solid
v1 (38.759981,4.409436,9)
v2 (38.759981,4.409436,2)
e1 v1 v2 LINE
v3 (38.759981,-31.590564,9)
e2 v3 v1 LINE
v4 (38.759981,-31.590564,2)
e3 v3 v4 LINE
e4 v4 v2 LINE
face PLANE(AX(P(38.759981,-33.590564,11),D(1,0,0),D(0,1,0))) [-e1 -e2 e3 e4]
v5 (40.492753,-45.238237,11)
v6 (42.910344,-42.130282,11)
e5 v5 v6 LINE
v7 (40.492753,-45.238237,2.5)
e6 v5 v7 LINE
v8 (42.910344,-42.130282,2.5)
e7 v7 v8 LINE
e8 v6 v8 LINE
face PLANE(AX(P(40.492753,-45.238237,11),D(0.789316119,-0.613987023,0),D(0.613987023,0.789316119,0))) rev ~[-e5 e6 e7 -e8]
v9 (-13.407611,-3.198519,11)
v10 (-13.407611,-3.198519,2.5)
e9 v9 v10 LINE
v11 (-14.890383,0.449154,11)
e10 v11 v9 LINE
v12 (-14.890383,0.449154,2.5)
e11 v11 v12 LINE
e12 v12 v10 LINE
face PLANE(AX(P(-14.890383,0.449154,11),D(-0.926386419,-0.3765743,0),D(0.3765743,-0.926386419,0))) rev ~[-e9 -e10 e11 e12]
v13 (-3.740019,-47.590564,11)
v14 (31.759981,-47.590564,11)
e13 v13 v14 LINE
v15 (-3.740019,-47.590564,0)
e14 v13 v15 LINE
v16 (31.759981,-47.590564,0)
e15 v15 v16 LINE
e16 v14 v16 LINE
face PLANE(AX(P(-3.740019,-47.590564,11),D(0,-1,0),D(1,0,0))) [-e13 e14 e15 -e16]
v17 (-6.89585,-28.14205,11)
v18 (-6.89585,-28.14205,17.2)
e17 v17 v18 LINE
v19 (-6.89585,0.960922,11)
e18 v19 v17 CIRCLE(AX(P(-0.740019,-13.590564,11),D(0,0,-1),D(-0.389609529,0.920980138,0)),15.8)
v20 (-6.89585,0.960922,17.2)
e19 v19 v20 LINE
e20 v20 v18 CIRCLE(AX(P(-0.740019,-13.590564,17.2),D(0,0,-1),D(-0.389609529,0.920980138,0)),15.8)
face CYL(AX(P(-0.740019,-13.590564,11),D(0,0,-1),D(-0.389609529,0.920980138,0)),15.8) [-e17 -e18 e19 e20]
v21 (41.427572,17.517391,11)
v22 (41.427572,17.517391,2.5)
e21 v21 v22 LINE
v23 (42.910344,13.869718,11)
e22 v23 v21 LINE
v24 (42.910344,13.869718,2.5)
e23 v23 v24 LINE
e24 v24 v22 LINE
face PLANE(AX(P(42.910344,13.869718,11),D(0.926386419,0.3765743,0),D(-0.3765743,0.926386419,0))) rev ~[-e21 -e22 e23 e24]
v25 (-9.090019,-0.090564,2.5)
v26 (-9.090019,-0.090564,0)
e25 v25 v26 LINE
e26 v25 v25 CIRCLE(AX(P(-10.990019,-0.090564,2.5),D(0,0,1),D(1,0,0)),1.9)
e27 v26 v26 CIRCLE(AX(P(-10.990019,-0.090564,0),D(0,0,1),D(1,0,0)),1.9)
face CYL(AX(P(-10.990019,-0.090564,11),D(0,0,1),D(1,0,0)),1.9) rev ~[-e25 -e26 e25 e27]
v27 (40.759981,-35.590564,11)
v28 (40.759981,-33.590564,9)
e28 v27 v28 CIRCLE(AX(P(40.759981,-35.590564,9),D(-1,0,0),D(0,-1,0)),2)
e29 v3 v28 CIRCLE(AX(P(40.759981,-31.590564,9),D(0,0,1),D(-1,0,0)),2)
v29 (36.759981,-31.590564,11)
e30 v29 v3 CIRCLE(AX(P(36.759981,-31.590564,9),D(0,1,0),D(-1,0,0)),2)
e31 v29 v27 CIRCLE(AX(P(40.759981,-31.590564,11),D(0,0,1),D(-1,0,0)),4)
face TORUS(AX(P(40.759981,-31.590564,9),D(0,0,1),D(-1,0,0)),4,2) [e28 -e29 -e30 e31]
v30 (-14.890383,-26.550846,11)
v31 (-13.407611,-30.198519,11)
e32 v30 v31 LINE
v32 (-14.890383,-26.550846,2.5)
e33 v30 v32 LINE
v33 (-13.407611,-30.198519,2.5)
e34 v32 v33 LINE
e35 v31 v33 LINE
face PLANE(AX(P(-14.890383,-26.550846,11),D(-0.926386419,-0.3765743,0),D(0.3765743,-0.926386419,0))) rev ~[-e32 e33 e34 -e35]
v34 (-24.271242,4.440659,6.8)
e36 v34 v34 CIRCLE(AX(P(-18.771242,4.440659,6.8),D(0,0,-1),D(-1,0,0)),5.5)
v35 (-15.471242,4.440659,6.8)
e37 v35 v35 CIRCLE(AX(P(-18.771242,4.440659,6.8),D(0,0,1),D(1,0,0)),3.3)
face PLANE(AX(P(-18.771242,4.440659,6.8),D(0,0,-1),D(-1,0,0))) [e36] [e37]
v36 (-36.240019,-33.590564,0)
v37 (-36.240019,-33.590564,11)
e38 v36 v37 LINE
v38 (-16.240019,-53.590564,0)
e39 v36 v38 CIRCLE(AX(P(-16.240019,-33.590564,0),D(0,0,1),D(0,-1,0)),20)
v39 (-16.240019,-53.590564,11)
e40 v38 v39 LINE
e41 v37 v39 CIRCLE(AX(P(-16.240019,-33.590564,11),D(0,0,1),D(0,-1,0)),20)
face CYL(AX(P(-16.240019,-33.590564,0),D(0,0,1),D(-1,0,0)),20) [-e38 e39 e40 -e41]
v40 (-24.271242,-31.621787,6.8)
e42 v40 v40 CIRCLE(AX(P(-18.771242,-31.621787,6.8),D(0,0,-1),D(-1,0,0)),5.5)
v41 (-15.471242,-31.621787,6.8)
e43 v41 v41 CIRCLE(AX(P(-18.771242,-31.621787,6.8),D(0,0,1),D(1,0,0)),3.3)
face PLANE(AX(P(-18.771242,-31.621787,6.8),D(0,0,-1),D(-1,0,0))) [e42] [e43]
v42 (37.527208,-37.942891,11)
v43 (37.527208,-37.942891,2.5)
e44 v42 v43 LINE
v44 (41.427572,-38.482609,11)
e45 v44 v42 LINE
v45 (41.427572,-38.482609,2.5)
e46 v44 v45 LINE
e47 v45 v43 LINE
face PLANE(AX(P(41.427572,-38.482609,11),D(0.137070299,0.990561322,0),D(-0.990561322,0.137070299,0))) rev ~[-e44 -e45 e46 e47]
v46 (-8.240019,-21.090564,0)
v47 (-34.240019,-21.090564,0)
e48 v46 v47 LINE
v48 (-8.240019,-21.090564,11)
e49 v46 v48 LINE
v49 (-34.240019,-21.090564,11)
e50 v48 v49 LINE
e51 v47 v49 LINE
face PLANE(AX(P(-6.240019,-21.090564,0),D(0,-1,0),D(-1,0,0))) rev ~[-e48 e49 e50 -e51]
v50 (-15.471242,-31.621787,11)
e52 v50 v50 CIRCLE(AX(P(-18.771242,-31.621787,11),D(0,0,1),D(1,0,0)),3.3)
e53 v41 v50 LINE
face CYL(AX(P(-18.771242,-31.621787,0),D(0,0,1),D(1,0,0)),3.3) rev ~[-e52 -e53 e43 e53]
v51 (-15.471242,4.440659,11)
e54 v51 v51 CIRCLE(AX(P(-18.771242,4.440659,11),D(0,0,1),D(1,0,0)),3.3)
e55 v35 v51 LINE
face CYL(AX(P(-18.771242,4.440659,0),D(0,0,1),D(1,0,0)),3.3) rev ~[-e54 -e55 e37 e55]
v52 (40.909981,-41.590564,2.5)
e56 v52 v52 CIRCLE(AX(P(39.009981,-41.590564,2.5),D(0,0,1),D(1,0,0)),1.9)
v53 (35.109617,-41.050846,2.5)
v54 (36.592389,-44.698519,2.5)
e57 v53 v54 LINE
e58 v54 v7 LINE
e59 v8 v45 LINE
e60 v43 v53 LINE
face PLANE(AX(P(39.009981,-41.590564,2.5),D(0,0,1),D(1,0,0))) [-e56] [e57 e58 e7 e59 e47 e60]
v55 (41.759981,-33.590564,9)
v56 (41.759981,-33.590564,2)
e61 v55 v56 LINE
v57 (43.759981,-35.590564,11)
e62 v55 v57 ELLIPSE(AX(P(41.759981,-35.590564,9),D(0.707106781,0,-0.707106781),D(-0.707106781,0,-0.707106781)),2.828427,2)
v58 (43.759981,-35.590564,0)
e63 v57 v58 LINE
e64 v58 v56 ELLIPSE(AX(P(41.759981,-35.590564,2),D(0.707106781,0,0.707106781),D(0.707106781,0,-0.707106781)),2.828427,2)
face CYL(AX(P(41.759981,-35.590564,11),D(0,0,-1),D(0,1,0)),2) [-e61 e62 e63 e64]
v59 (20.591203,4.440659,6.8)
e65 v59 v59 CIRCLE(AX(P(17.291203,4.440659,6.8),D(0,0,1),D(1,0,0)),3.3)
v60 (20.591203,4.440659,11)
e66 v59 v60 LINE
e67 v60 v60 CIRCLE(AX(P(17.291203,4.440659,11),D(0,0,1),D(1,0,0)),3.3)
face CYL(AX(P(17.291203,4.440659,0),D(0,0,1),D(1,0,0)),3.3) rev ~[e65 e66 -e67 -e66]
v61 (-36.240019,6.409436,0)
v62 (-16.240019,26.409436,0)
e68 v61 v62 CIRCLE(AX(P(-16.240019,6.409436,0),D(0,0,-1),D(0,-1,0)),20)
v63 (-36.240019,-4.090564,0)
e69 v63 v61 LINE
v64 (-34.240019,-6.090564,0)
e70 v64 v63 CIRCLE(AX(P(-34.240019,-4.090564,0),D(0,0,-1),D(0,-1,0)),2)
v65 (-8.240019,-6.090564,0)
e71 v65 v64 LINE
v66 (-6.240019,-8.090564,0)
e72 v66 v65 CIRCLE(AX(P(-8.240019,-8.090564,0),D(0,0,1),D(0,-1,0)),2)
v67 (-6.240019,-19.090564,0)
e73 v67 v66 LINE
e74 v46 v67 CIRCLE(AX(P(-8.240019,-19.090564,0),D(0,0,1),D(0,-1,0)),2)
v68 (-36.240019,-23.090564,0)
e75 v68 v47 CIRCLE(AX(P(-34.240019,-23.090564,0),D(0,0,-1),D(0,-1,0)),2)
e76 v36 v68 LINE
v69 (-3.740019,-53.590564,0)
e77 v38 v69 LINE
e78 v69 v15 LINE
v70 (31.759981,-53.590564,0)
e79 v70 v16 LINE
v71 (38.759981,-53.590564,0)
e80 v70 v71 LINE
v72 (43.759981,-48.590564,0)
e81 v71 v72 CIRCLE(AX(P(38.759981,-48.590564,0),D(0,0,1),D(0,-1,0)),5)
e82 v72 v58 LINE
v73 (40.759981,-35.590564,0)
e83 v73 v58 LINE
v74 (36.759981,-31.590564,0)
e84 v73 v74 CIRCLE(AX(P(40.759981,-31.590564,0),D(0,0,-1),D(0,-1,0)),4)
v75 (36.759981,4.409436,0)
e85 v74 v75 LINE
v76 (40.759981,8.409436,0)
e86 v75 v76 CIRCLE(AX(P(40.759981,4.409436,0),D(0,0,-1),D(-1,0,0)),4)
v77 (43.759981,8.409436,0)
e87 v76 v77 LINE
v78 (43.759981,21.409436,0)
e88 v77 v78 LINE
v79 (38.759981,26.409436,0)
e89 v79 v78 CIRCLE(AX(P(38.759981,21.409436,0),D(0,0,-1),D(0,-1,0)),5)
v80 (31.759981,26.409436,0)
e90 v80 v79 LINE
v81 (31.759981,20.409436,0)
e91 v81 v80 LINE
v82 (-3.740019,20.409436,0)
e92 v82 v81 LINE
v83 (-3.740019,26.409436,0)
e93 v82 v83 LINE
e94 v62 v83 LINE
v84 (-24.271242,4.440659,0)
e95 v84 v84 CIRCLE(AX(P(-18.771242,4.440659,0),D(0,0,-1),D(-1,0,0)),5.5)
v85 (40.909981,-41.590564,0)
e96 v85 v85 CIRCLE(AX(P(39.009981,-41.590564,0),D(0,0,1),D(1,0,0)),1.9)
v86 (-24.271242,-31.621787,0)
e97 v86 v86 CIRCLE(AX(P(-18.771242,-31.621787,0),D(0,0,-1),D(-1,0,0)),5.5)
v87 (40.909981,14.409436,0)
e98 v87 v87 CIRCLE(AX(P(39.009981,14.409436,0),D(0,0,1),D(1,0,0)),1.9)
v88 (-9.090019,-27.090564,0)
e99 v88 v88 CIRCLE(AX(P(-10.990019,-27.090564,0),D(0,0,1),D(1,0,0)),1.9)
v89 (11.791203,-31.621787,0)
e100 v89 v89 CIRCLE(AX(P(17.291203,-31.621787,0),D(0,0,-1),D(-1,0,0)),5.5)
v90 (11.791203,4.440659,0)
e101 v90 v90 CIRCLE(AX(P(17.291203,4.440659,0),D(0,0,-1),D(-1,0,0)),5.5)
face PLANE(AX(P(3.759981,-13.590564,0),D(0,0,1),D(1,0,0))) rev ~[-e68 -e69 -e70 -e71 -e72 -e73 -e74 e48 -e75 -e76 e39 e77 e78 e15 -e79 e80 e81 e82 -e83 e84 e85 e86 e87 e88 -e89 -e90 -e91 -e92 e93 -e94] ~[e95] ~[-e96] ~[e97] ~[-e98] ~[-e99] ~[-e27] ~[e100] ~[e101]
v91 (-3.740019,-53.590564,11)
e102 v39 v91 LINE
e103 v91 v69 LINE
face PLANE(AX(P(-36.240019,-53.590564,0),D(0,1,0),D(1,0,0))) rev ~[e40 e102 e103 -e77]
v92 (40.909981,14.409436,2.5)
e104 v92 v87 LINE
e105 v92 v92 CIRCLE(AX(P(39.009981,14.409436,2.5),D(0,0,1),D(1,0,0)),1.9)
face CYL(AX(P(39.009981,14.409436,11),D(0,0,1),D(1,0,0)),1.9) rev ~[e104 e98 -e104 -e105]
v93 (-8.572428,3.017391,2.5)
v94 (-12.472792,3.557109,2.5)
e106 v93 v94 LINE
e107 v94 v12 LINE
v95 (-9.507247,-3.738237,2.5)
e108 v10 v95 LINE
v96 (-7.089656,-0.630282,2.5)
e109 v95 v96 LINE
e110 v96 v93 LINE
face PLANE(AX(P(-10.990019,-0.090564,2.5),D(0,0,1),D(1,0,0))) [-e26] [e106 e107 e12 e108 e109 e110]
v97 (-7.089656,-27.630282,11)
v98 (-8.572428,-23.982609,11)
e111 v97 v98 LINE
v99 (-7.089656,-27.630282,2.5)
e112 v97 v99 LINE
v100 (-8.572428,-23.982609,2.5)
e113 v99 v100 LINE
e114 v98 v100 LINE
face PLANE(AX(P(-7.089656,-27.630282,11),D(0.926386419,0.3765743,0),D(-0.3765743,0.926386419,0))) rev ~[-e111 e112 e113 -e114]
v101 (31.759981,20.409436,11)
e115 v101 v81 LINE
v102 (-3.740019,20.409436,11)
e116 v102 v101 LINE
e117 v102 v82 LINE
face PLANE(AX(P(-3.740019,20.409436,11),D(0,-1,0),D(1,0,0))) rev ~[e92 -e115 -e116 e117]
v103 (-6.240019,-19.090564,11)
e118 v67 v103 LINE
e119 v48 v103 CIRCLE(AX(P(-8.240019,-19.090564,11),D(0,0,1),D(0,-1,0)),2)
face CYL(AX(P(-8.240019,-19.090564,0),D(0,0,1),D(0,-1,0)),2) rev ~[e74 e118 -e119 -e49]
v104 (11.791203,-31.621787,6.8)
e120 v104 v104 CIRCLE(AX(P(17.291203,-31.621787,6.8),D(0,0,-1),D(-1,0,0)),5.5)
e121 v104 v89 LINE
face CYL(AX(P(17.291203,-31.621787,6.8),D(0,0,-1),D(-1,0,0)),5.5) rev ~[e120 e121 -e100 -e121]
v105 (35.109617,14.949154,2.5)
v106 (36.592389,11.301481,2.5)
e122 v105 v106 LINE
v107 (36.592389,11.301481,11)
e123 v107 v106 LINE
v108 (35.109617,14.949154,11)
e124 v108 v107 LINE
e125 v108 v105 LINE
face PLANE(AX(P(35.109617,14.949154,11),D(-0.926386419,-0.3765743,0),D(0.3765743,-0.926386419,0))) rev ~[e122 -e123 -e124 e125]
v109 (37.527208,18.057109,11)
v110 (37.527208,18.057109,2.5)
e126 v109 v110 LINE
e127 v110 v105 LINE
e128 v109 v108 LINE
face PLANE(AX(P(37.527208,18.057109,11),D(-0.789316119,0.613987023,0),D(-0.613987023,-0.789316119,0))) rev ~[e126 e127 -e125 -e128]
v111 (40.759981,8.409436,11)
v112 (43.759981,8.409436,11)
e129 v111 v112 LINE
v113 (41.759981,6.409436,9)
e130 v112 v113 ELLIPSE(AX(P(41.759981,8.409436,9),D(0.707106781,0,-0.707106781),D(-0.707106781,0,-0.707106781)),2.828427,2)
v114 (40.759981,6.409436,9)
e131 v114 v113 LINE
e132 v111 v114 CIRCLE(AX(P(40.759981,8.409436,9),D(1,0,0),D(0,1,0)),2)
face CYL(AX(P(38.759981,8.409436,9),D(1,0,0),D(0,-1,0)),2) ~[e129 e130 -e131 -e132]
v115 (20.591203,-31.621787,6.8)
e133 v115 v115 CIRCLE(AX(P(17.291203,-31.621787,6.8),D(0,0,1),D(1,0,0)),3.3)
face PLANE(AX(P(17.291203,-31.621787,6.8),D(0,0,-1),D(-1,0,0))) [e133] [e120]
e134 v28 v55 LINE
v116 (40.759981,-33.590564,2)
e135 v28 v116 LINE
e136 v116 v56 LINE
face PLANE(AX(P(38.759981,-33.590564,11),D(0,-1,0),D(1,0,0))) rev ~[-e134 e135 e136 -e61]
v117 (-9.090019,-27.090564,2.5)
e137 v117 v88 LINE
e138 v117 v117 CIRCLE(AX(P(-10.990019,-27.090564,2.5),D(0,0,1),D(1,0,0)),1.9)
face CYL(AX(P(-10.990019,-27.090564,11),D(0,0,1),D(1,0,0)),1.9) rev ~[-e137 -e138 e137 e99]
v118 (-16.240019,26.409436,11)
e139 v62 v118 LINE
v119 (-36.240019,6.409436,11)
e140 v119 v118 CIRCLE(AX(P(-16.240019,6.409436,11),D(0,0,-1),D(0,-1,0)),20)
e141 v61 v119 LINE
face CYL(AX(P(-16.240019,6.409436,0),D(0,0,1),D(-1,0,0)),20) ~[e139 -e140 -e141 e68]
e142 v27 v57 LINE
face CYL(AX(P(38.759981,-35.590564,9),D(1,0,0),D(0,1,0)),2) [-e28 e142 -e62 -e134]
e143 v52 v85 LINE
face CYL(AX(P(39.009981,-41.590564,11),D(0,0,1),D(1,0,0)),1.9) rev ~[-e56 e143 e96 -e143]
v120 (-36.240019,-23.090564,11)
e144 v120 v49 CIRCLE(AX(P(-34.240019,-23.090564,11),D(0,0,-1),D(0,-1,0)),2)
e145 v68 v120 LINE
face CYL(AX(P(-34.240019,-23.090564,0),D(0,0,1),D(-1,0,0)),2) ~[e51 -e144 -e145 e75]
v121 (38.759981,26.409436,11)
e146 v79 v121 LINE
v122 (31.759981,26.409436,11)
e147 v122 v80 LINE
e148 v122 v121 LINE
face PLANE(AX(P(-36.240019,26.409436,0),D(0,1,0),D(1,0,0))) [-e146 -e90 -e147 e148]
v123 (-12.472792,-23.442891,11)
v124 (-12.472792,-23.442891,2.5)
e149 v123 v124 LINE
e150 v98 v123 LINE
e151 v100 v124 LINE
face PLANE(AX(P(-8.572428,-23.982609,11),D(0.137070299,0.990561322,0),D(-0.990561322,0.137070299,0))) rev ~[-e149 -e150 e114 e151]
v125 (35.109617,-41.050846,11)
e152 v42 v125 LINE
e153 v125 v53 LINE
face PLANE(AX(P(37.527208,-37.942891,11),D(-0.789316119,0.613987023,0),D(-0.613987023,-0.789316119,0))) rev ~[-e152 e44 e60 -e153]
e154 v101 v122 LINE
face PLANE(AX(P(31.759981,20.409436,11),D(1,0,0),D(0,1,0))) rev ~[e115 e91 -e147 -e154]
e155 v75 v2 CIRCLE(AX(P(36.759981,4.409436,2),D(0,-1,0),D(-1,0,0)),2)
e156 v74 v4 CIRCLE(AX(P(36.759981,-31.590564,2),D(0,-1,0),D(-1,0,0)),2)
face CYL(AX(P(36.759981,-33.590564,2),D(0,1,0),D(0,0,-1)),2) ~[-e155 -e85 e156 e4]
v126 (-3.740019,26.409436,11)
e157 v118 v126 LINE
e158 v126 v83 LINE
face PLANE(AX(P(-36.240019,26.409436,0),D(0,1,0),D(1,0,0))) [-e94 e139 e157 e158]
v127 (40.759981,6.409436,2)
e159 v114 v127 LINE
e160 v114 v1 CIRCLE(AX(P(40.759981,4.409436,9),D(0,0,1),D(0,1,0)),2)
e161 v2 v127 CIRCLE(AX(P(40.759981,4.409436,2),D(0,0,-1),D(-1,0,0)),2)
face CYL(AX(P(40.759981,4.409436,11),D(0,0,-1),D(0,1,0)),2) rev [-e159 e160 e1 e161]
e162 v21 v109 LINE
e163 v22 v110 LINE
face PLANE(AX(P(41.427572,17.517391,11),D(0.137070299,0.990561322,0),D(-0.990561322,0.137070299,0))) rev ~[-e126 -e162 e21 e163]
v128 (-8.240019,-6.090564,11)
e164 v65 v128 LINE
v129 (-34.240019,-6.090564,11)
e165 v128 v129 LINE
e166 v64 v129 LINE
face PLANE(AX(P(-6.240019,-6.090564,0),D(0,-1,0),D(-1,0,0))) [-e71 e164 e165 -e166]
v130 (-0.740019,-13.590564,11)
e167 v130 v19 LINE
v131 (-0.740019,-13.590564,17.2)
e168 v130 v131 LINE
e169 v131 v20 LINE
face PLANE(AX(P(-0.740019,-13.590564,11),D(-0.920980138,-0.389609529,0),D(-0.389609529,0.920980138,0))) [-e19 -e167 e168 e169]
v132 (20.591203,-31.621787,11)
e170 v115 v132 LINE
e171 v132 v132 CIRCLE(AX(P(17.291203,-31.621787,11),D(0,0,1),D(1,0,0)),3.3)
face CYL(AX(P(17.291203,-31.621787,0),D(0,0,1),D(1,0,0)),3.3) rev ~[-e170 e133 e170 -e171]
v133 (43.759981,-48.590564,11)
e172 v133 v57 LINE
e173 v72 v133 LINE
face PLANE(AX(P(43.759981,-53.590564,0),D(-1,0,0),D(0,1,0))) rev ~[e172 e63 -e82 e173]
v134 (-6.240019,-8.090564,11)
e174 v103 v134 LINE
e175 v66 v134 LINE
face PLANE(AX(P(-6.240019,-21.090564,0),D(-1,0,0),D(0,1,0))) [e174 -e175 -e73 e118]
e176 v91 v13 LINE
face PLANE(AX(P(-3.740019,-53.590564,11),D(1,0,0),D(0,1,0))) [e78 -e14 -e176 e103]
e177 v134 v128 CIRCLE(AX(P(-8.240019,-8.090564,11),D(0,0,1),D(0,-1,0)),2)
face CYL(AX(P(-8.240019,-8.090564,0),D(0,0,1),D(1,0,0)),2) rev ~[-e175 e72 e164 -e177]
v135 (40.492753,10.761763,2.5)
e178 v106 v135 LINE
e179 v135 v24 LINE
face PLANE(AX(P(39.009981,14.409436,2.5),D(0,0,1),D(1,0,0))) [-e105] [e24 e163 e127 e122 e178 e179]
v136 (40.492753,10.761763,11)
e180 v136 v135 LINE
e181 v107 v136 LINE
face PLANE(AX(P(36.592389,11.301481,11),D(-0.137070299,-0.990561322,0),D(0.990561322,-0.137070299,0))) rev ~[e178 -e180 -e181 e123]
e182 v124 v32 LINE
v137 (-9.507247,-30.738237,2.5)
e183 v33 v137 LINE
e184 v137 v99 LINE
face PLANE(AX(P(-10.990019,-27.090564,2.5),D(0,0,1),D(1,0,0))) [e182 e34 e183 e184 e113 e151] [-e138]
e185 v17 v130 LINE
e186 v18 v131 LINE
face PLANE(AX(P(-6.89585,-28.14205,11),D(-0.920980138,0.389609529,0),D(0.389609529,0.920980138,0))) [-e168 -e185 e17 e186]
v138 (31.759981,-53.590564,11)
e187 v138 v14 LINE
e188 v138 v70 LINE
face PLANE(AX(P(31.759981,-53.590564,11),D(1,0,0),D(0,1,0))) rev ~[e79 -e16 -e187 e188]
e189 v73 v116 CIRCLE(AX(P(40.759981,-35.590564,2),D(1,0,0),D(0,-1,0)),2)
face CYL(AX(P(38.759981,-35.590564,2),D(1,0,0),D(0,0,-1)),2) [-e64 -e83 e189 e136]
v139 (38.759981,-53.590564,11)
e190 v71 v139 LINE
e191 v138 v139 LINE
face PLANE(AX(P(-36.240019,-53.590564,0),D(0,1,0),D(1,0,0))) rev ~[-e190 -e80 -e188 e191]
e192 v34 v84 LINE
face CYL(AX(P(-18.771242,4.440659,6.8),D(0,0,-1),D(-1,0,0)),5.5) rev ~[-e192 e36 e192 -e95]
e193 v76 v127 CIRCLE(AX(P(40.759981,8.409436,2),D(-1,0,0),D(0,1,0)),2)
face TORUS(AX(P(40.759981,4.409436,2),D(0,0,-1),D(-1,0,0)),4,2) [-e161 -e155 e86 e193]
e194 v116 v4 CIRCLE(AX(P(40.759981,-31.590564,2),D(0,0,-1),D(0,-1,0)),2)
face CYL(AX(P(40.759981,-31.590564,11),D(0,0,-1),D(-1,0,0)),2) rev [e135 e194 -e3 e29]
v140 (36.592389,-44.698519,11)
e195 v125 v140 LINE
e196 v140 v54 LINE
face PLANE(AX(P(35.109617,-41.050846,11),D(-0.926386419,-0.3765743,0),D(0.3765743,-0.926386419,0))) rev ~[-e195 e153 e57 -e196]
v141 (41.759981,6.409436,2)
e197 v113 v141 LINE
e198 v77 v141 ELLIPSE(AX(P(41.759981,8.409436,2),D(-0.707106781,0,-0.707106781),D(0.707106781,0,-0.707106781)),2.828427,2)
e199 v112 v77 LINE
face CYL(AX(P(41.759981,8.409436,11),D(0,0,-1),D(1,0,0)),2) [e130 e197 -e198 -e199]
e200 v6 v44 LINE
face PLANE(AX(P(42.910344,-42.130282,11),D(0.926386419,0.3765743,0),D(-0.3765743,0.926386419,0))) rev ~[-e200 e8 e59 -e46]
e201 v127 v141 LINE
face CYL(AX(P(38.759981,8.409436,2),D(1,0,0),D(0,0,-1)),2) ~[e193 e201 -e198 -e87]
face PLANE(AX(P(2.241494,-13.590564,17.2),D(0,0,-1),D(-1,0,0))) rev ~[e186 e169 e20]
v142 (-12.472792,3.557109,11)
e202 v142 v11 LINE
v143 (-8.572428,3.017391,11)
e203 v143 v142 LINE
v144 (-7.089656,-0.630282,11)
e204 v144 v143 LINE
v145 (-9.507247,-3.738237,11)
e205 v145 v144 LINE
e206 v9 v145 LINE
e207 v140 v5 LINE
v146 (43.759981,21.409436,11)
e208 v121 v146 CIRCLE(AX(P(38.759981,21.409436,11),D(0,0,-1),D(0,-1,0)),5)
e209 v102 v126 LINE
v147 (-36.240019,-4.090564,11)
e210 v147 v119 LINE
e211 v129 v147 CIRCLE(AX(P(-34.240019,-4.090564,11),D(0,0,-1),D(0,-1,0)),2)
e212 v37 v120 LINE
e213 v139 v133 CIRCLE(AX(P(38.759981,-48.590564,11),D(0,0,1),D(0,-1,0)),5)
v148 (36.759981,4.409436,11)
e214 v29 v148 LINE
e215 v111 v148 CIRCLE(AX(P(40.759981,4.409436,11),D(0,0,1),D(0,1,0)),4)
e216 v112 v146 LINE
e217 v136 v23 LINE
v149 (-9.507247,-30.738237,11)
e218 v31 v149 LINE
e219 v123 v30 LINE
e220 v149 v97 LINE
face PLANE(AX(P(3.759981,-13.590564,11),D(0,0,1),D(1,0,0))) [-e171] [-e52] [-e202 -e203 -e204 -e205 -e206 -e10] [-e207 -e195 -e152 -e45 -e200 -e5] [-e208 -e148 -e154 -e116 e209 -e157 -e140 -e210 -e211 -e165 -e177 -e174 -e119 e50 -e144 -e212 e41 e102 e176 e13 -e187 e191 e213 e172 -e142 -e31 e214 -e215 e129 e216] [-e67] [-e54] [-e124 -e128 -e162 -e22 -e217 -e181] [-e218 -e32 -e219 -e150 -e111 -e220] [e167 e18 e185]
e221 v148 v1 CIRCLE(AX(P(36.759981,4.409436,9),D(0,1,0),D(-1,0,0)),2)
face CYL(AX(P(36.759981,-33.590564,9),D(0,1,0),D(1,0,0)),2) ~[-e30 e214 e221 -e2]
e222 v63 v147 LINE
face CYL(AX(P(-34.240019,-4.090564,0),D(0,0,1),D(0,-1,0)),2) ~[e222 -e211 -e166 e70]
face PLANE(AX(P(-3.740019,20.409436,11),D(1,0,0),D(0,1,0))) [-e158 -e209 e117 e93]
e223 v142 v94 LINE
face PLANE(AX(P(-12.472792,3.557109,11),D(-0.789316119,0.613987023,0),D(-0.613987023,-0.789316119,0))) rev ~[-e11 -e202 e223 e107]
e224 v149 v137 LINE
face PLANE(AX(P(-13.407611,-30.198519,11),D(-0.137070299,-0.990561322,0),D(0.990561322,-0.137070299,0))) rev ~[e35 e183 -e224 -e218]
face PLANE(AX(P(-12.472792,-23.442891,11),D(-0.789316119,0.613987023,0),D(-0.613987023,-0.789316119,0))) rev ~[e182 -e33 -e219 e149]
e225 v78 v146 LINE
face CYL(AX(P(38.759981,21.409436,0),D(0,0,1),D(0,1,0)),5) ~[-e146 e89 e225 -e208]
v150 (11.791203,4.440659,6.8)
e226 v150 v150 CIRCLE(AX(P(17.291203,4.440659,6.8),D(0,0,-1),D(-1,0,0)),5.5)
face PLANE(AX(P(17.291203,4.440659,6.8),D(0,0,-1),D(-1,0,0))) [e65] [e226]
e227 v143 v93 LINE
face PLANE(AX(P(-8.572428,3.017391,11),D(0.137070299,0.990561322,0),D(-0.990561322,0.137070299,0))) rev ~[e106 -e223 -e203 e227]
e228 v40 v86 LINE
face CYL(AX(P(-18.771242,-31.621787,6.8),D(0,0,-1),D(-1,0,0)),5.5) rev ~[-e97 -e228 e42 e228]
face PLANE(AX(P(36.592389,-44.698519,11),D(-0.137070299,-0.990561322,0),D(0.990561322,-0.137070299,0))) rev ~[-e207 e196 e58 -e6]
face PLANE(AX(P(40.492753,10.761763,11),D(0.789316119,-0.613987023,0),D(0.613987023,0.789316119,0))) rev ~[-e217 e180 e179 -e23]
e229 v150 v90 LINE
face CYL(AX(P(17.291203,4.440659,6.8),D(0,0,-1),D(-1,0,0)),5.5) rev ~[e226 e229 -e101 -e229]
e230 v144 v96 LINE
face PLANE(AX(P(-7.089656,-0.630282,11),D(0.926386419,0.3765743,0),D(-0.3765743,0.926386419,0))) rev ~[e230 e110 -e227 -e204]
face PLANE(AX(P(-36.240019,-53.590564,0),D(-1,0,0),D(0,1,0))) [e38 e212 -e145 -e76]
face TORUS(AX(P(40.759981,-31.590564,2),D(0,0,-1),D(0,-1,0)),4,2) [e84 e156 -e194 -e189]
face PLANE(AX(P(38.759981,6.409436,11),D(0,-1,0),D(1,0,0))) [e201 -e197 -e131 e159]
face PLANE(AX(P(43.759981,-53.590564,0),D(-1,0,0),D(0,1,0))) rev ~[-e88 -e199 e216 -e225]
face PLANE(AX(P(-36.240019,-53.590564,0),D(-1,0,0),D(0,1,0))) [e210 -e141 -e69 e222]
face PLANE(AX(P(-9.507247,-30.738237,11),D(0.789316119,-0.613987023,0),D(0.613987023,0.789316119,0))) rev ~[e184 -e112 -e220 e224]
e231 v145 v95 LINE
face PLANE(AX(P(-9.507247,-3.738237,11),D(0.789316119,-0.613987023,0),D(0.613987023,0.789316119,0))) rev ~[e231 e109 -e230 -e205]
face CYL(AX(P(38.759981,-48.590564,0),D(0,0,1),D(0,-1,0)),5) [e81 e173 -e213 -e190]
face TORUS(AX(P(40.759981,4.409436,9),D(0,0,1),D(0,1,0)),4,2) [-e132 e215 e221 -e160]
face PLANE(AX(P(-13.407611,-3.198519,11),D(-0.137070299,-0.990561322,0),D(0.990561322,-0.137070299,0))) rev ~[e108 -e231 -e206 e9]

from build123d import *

# Parameters (mm, degrees)
SKETCH_1_W                = 80
SKETCH_1_H                = 80
EXTRUDE_1_DEPTH           = 11
FILLET_1_R                = 20
FILLET_2_R                = 5
SKETCH_2_W                = 30
SKETCH_2_H                = 15
CUT_EXTRUDE_1_DEPTH       = 11
FILLET_3_R                = 2
SKETCH_3_W                = 35.5
SKETCH_3_H                = 6
CUT_EXTRUDE_2_DEPTH       = 11
SKETCH_4_W                = 35.5
SKETCH_4_H                = 6
CUT_EXTRUDE_3_DEPTH       = 11
SKETCH_5_W                = 5
SKETCH_5_H                = 40
CUT_EXTRUDE_4_DEPTH       = 11
FILLET_4_R                = 2
SKETCH_8_R                = 1.9
CUT_EXTRUDE_5_DEPTH       = 11
CUT_EXTRUDE_6_DEPTH       = 8.5
EXTRUDE_2_DEPTH           = 6.2
HOLE_WIZARD_2_D           = 6.6
HOLE_WIZARD_2_CBORE_D     = 11
HOLE_WIZARD_2_CBORE_DEPTH = 6.8


with BuildPart() as part:
    # 草图1 → 凸台-拉伸1 (new body)
    with BuildSketch(Plane.XY):
        with Locations((3.759980536, -13.590563907)):
            Rectangle(SKETCH_1_W, SKETCH_1_H)
    extrude(amount=EXTRUDE_1_DEPTH)

    # 圆角1
    fillet_1_edges = [part.edges().sort_by_distance(p)[0] for p in [
        (-36.240019464, 26.409436093, 5.5),
        (-36.240019464, -53.590563907, 5.5),
    ]]
    fillet(fillet_1_edges, radius=FILLET_1_R)

    # 圆角2
    fillet_2_edges = [part.edges().sort_by_distance(p)[0] for p in [
        (43.759980536, 26.409436093, 5.5),
        (43.759980536, -53.590563907, 5.5),
    ]]
    fillet(fillet_2_edges, radius=FILLET_2_R)

    # 草图2 → 切除-拉伸1 (cut)
    with BuildSketch(Plane(origin=(0, 0, 0), x_dir=(-1, 0, 0), z_dir=(0, 0, -1))):
        with Locations((21.240019464, -13.590563907)):
            Rectangle(SKETCH_2_W, SKETCH_2_H)
    extrude(amount=-CUT_EXTRUDE_1_DEPTH, mode=Mode.SUBTRACT)

    # 圆角3
    fillet_3_edges = [part.edges().sort_by_distance(p)[0] for p in [
        (-36.240019464, -6.090563907, 5.5),
        (-36.240019464, -21.090563907, 5.5),
        (-6.240019464, -21.090563907, 5.5),
        (-6.240019464, -6.090563907, 5.5),
    ]]
    fillet(fillet_3_edges, radius=FILLET_3_R)

    # 草图3 → 切除-拉伸2 (cut)
    with BuildSketch(Plane.XY.offset(11)):
        with Locations((14.009980536, 23.409436093)):
            Rectangle(SKETCH_3_W, SKETCH_3_H)
    extrude(amount=-CUT_EXTRUDE_2_DEPTH, mode=Mode.SUBTRACT)

    # 草图4 → 切除-拉伸3 (cut)
    with BuildSketch(Plane.XY.offset(11)):
        with Locations((14.009980536, -50.590563907)):
            Rectangle(SKETCH_4_W, SKETCH_4_H)
    extrude(amount=-CUT_EXTRUDE_3_DEPTH, mode=Mode.SUBTRACT)

    # 草图5 → 切除-拉伸4 (cut)
    with BuildSketch(Plane.XY.offset(11)):
        with Locations((41.259980536, -13.590563907)):
            Rectangle(SKETCH_5_W, SKETCH_5_H)
    extrude(amount=-CUT_EXTRUDE_4_DEPTH, mode=Mode.SUBTRACT)

    # 圆角4
    fillet_4_edges = [part.edges().sort_by_distance(p)[0] for p in [
        (43.759980536, 6.409436093, 5.5),
        (41.259980536, -33.590563907, 0),
        (43.759980536, -33.590563907, 5.5),
        (38.759980536, -13.590563907, 0),
        (38.759980536, -33.590563907, 5.5),
        (41.259980536, 6.409436093, 0),
        (38.759980536, 6.409436093, 5.5),
        (41.259980536, 6.409436093, 11),
        (38.759980536, -13.590563907, 11),
        (41.259980536, -33.590563907, 11),
    ]]
    fillet(fillet_4_edges, radius=FILLET_4_R)

    # 草图8 → 切除-拉伸5 (cut)
    with BuildSketch(Plane.XY.offset(11)):
        with Locations((39.009980536, -41.590563907)):
            Circle(SKETCH_8_R)
        with Locations((-10.990019464, -27.090563907)):
            Circle(SKETCH_8_R)
        with Locations((-10.990019464, -0.090563907)):
            Circle(SKETCH_8_R)
        with Locations((39.009980536, 14.409436093)):
            Circle(SKETCH_8_R)
    extrude(amount=-CUT_EXTRUDE_5_DEPTH, mode=Mode.SUBTRACT)

    # 草图9 → 切除-拉伸6 (cut)
    with BuildSketch(Plane.XY.offset(11)):
        Polygon((-14.890383234, -26.550845651), (-13.40761107, -30.198518888), (-9.5072473, -30.738237144), (-7.089655694, -27.630282164), (-8.572427858, -23.982608927), (-12.472791628, -23.442890671), align=None)
        Polygon((37.527208372, -37.942890671), (35.109616766, -41.050845651), (36.59238893, -44.698518888), (40.4927527, -45.238237144), (42.910344306, -42.130282164), (41.427572142, -38.482608927), align=None)
        Polygon((-8.572427858, 3.017391073), (-12.472791628, 3.557109329), (-14.890383234, 0.449154349), (-13.40761107, -3.198518888), (-9.5072473, -3.738237144), (-7.089655694, -0.630282164), align=None)
        Polygon((36.59238893, 11.301481112), (40.4927527, 10.761762856), (42.910344306, 13.869717836), (41.427572142, 17.517391073), (37.527208372, 18.057109329), (35.109616766, 14.949154349), align=None)
    extrude(amount=-CUT_EXTRUDE_6_DEPTH, mode=Mode.SUBTRACT)

    # 草图10 → 凸台-拉伸2 (add)
    with BuildSketch(Plane.XY.offset(11)):
        with BuildLine():
            Line((-0.740019464, -13.590563907), (-6.895850028, 0.960922273))
            ThreePointArc((-6.895850028, 0.960922273), (15.059980536, -13.590563907), (-6.895850028, -28.142050088))
            Line((-6.895850028, -28.142050088), (-0.740019464, -13.590563907))
        make_face()
    extrude(amount=EXTRUDE_2_DEPTH)

    # 打孔尺寸(%根据)内六角圆柱头螺钉的类型2 (through all)
    with Locations(Plane(origin=(0, 0, 0), x_dir=(-1, 0, 0), z_dir=(0, 0, -1))):
        with Locations((-17.291203456, 4.440659013), (18.771242384, 4.440659013), (18.771242384, -31.621786828), (-17.291203456, -31.621786828)):
            CounterBoreHole(HOLE_WIZARD_2_D / 2, HOLE_WIZARD_2_CBORE_D / 2, HOLE_WIZARD_2_CBORE_DEPTH)


solid = part.part
